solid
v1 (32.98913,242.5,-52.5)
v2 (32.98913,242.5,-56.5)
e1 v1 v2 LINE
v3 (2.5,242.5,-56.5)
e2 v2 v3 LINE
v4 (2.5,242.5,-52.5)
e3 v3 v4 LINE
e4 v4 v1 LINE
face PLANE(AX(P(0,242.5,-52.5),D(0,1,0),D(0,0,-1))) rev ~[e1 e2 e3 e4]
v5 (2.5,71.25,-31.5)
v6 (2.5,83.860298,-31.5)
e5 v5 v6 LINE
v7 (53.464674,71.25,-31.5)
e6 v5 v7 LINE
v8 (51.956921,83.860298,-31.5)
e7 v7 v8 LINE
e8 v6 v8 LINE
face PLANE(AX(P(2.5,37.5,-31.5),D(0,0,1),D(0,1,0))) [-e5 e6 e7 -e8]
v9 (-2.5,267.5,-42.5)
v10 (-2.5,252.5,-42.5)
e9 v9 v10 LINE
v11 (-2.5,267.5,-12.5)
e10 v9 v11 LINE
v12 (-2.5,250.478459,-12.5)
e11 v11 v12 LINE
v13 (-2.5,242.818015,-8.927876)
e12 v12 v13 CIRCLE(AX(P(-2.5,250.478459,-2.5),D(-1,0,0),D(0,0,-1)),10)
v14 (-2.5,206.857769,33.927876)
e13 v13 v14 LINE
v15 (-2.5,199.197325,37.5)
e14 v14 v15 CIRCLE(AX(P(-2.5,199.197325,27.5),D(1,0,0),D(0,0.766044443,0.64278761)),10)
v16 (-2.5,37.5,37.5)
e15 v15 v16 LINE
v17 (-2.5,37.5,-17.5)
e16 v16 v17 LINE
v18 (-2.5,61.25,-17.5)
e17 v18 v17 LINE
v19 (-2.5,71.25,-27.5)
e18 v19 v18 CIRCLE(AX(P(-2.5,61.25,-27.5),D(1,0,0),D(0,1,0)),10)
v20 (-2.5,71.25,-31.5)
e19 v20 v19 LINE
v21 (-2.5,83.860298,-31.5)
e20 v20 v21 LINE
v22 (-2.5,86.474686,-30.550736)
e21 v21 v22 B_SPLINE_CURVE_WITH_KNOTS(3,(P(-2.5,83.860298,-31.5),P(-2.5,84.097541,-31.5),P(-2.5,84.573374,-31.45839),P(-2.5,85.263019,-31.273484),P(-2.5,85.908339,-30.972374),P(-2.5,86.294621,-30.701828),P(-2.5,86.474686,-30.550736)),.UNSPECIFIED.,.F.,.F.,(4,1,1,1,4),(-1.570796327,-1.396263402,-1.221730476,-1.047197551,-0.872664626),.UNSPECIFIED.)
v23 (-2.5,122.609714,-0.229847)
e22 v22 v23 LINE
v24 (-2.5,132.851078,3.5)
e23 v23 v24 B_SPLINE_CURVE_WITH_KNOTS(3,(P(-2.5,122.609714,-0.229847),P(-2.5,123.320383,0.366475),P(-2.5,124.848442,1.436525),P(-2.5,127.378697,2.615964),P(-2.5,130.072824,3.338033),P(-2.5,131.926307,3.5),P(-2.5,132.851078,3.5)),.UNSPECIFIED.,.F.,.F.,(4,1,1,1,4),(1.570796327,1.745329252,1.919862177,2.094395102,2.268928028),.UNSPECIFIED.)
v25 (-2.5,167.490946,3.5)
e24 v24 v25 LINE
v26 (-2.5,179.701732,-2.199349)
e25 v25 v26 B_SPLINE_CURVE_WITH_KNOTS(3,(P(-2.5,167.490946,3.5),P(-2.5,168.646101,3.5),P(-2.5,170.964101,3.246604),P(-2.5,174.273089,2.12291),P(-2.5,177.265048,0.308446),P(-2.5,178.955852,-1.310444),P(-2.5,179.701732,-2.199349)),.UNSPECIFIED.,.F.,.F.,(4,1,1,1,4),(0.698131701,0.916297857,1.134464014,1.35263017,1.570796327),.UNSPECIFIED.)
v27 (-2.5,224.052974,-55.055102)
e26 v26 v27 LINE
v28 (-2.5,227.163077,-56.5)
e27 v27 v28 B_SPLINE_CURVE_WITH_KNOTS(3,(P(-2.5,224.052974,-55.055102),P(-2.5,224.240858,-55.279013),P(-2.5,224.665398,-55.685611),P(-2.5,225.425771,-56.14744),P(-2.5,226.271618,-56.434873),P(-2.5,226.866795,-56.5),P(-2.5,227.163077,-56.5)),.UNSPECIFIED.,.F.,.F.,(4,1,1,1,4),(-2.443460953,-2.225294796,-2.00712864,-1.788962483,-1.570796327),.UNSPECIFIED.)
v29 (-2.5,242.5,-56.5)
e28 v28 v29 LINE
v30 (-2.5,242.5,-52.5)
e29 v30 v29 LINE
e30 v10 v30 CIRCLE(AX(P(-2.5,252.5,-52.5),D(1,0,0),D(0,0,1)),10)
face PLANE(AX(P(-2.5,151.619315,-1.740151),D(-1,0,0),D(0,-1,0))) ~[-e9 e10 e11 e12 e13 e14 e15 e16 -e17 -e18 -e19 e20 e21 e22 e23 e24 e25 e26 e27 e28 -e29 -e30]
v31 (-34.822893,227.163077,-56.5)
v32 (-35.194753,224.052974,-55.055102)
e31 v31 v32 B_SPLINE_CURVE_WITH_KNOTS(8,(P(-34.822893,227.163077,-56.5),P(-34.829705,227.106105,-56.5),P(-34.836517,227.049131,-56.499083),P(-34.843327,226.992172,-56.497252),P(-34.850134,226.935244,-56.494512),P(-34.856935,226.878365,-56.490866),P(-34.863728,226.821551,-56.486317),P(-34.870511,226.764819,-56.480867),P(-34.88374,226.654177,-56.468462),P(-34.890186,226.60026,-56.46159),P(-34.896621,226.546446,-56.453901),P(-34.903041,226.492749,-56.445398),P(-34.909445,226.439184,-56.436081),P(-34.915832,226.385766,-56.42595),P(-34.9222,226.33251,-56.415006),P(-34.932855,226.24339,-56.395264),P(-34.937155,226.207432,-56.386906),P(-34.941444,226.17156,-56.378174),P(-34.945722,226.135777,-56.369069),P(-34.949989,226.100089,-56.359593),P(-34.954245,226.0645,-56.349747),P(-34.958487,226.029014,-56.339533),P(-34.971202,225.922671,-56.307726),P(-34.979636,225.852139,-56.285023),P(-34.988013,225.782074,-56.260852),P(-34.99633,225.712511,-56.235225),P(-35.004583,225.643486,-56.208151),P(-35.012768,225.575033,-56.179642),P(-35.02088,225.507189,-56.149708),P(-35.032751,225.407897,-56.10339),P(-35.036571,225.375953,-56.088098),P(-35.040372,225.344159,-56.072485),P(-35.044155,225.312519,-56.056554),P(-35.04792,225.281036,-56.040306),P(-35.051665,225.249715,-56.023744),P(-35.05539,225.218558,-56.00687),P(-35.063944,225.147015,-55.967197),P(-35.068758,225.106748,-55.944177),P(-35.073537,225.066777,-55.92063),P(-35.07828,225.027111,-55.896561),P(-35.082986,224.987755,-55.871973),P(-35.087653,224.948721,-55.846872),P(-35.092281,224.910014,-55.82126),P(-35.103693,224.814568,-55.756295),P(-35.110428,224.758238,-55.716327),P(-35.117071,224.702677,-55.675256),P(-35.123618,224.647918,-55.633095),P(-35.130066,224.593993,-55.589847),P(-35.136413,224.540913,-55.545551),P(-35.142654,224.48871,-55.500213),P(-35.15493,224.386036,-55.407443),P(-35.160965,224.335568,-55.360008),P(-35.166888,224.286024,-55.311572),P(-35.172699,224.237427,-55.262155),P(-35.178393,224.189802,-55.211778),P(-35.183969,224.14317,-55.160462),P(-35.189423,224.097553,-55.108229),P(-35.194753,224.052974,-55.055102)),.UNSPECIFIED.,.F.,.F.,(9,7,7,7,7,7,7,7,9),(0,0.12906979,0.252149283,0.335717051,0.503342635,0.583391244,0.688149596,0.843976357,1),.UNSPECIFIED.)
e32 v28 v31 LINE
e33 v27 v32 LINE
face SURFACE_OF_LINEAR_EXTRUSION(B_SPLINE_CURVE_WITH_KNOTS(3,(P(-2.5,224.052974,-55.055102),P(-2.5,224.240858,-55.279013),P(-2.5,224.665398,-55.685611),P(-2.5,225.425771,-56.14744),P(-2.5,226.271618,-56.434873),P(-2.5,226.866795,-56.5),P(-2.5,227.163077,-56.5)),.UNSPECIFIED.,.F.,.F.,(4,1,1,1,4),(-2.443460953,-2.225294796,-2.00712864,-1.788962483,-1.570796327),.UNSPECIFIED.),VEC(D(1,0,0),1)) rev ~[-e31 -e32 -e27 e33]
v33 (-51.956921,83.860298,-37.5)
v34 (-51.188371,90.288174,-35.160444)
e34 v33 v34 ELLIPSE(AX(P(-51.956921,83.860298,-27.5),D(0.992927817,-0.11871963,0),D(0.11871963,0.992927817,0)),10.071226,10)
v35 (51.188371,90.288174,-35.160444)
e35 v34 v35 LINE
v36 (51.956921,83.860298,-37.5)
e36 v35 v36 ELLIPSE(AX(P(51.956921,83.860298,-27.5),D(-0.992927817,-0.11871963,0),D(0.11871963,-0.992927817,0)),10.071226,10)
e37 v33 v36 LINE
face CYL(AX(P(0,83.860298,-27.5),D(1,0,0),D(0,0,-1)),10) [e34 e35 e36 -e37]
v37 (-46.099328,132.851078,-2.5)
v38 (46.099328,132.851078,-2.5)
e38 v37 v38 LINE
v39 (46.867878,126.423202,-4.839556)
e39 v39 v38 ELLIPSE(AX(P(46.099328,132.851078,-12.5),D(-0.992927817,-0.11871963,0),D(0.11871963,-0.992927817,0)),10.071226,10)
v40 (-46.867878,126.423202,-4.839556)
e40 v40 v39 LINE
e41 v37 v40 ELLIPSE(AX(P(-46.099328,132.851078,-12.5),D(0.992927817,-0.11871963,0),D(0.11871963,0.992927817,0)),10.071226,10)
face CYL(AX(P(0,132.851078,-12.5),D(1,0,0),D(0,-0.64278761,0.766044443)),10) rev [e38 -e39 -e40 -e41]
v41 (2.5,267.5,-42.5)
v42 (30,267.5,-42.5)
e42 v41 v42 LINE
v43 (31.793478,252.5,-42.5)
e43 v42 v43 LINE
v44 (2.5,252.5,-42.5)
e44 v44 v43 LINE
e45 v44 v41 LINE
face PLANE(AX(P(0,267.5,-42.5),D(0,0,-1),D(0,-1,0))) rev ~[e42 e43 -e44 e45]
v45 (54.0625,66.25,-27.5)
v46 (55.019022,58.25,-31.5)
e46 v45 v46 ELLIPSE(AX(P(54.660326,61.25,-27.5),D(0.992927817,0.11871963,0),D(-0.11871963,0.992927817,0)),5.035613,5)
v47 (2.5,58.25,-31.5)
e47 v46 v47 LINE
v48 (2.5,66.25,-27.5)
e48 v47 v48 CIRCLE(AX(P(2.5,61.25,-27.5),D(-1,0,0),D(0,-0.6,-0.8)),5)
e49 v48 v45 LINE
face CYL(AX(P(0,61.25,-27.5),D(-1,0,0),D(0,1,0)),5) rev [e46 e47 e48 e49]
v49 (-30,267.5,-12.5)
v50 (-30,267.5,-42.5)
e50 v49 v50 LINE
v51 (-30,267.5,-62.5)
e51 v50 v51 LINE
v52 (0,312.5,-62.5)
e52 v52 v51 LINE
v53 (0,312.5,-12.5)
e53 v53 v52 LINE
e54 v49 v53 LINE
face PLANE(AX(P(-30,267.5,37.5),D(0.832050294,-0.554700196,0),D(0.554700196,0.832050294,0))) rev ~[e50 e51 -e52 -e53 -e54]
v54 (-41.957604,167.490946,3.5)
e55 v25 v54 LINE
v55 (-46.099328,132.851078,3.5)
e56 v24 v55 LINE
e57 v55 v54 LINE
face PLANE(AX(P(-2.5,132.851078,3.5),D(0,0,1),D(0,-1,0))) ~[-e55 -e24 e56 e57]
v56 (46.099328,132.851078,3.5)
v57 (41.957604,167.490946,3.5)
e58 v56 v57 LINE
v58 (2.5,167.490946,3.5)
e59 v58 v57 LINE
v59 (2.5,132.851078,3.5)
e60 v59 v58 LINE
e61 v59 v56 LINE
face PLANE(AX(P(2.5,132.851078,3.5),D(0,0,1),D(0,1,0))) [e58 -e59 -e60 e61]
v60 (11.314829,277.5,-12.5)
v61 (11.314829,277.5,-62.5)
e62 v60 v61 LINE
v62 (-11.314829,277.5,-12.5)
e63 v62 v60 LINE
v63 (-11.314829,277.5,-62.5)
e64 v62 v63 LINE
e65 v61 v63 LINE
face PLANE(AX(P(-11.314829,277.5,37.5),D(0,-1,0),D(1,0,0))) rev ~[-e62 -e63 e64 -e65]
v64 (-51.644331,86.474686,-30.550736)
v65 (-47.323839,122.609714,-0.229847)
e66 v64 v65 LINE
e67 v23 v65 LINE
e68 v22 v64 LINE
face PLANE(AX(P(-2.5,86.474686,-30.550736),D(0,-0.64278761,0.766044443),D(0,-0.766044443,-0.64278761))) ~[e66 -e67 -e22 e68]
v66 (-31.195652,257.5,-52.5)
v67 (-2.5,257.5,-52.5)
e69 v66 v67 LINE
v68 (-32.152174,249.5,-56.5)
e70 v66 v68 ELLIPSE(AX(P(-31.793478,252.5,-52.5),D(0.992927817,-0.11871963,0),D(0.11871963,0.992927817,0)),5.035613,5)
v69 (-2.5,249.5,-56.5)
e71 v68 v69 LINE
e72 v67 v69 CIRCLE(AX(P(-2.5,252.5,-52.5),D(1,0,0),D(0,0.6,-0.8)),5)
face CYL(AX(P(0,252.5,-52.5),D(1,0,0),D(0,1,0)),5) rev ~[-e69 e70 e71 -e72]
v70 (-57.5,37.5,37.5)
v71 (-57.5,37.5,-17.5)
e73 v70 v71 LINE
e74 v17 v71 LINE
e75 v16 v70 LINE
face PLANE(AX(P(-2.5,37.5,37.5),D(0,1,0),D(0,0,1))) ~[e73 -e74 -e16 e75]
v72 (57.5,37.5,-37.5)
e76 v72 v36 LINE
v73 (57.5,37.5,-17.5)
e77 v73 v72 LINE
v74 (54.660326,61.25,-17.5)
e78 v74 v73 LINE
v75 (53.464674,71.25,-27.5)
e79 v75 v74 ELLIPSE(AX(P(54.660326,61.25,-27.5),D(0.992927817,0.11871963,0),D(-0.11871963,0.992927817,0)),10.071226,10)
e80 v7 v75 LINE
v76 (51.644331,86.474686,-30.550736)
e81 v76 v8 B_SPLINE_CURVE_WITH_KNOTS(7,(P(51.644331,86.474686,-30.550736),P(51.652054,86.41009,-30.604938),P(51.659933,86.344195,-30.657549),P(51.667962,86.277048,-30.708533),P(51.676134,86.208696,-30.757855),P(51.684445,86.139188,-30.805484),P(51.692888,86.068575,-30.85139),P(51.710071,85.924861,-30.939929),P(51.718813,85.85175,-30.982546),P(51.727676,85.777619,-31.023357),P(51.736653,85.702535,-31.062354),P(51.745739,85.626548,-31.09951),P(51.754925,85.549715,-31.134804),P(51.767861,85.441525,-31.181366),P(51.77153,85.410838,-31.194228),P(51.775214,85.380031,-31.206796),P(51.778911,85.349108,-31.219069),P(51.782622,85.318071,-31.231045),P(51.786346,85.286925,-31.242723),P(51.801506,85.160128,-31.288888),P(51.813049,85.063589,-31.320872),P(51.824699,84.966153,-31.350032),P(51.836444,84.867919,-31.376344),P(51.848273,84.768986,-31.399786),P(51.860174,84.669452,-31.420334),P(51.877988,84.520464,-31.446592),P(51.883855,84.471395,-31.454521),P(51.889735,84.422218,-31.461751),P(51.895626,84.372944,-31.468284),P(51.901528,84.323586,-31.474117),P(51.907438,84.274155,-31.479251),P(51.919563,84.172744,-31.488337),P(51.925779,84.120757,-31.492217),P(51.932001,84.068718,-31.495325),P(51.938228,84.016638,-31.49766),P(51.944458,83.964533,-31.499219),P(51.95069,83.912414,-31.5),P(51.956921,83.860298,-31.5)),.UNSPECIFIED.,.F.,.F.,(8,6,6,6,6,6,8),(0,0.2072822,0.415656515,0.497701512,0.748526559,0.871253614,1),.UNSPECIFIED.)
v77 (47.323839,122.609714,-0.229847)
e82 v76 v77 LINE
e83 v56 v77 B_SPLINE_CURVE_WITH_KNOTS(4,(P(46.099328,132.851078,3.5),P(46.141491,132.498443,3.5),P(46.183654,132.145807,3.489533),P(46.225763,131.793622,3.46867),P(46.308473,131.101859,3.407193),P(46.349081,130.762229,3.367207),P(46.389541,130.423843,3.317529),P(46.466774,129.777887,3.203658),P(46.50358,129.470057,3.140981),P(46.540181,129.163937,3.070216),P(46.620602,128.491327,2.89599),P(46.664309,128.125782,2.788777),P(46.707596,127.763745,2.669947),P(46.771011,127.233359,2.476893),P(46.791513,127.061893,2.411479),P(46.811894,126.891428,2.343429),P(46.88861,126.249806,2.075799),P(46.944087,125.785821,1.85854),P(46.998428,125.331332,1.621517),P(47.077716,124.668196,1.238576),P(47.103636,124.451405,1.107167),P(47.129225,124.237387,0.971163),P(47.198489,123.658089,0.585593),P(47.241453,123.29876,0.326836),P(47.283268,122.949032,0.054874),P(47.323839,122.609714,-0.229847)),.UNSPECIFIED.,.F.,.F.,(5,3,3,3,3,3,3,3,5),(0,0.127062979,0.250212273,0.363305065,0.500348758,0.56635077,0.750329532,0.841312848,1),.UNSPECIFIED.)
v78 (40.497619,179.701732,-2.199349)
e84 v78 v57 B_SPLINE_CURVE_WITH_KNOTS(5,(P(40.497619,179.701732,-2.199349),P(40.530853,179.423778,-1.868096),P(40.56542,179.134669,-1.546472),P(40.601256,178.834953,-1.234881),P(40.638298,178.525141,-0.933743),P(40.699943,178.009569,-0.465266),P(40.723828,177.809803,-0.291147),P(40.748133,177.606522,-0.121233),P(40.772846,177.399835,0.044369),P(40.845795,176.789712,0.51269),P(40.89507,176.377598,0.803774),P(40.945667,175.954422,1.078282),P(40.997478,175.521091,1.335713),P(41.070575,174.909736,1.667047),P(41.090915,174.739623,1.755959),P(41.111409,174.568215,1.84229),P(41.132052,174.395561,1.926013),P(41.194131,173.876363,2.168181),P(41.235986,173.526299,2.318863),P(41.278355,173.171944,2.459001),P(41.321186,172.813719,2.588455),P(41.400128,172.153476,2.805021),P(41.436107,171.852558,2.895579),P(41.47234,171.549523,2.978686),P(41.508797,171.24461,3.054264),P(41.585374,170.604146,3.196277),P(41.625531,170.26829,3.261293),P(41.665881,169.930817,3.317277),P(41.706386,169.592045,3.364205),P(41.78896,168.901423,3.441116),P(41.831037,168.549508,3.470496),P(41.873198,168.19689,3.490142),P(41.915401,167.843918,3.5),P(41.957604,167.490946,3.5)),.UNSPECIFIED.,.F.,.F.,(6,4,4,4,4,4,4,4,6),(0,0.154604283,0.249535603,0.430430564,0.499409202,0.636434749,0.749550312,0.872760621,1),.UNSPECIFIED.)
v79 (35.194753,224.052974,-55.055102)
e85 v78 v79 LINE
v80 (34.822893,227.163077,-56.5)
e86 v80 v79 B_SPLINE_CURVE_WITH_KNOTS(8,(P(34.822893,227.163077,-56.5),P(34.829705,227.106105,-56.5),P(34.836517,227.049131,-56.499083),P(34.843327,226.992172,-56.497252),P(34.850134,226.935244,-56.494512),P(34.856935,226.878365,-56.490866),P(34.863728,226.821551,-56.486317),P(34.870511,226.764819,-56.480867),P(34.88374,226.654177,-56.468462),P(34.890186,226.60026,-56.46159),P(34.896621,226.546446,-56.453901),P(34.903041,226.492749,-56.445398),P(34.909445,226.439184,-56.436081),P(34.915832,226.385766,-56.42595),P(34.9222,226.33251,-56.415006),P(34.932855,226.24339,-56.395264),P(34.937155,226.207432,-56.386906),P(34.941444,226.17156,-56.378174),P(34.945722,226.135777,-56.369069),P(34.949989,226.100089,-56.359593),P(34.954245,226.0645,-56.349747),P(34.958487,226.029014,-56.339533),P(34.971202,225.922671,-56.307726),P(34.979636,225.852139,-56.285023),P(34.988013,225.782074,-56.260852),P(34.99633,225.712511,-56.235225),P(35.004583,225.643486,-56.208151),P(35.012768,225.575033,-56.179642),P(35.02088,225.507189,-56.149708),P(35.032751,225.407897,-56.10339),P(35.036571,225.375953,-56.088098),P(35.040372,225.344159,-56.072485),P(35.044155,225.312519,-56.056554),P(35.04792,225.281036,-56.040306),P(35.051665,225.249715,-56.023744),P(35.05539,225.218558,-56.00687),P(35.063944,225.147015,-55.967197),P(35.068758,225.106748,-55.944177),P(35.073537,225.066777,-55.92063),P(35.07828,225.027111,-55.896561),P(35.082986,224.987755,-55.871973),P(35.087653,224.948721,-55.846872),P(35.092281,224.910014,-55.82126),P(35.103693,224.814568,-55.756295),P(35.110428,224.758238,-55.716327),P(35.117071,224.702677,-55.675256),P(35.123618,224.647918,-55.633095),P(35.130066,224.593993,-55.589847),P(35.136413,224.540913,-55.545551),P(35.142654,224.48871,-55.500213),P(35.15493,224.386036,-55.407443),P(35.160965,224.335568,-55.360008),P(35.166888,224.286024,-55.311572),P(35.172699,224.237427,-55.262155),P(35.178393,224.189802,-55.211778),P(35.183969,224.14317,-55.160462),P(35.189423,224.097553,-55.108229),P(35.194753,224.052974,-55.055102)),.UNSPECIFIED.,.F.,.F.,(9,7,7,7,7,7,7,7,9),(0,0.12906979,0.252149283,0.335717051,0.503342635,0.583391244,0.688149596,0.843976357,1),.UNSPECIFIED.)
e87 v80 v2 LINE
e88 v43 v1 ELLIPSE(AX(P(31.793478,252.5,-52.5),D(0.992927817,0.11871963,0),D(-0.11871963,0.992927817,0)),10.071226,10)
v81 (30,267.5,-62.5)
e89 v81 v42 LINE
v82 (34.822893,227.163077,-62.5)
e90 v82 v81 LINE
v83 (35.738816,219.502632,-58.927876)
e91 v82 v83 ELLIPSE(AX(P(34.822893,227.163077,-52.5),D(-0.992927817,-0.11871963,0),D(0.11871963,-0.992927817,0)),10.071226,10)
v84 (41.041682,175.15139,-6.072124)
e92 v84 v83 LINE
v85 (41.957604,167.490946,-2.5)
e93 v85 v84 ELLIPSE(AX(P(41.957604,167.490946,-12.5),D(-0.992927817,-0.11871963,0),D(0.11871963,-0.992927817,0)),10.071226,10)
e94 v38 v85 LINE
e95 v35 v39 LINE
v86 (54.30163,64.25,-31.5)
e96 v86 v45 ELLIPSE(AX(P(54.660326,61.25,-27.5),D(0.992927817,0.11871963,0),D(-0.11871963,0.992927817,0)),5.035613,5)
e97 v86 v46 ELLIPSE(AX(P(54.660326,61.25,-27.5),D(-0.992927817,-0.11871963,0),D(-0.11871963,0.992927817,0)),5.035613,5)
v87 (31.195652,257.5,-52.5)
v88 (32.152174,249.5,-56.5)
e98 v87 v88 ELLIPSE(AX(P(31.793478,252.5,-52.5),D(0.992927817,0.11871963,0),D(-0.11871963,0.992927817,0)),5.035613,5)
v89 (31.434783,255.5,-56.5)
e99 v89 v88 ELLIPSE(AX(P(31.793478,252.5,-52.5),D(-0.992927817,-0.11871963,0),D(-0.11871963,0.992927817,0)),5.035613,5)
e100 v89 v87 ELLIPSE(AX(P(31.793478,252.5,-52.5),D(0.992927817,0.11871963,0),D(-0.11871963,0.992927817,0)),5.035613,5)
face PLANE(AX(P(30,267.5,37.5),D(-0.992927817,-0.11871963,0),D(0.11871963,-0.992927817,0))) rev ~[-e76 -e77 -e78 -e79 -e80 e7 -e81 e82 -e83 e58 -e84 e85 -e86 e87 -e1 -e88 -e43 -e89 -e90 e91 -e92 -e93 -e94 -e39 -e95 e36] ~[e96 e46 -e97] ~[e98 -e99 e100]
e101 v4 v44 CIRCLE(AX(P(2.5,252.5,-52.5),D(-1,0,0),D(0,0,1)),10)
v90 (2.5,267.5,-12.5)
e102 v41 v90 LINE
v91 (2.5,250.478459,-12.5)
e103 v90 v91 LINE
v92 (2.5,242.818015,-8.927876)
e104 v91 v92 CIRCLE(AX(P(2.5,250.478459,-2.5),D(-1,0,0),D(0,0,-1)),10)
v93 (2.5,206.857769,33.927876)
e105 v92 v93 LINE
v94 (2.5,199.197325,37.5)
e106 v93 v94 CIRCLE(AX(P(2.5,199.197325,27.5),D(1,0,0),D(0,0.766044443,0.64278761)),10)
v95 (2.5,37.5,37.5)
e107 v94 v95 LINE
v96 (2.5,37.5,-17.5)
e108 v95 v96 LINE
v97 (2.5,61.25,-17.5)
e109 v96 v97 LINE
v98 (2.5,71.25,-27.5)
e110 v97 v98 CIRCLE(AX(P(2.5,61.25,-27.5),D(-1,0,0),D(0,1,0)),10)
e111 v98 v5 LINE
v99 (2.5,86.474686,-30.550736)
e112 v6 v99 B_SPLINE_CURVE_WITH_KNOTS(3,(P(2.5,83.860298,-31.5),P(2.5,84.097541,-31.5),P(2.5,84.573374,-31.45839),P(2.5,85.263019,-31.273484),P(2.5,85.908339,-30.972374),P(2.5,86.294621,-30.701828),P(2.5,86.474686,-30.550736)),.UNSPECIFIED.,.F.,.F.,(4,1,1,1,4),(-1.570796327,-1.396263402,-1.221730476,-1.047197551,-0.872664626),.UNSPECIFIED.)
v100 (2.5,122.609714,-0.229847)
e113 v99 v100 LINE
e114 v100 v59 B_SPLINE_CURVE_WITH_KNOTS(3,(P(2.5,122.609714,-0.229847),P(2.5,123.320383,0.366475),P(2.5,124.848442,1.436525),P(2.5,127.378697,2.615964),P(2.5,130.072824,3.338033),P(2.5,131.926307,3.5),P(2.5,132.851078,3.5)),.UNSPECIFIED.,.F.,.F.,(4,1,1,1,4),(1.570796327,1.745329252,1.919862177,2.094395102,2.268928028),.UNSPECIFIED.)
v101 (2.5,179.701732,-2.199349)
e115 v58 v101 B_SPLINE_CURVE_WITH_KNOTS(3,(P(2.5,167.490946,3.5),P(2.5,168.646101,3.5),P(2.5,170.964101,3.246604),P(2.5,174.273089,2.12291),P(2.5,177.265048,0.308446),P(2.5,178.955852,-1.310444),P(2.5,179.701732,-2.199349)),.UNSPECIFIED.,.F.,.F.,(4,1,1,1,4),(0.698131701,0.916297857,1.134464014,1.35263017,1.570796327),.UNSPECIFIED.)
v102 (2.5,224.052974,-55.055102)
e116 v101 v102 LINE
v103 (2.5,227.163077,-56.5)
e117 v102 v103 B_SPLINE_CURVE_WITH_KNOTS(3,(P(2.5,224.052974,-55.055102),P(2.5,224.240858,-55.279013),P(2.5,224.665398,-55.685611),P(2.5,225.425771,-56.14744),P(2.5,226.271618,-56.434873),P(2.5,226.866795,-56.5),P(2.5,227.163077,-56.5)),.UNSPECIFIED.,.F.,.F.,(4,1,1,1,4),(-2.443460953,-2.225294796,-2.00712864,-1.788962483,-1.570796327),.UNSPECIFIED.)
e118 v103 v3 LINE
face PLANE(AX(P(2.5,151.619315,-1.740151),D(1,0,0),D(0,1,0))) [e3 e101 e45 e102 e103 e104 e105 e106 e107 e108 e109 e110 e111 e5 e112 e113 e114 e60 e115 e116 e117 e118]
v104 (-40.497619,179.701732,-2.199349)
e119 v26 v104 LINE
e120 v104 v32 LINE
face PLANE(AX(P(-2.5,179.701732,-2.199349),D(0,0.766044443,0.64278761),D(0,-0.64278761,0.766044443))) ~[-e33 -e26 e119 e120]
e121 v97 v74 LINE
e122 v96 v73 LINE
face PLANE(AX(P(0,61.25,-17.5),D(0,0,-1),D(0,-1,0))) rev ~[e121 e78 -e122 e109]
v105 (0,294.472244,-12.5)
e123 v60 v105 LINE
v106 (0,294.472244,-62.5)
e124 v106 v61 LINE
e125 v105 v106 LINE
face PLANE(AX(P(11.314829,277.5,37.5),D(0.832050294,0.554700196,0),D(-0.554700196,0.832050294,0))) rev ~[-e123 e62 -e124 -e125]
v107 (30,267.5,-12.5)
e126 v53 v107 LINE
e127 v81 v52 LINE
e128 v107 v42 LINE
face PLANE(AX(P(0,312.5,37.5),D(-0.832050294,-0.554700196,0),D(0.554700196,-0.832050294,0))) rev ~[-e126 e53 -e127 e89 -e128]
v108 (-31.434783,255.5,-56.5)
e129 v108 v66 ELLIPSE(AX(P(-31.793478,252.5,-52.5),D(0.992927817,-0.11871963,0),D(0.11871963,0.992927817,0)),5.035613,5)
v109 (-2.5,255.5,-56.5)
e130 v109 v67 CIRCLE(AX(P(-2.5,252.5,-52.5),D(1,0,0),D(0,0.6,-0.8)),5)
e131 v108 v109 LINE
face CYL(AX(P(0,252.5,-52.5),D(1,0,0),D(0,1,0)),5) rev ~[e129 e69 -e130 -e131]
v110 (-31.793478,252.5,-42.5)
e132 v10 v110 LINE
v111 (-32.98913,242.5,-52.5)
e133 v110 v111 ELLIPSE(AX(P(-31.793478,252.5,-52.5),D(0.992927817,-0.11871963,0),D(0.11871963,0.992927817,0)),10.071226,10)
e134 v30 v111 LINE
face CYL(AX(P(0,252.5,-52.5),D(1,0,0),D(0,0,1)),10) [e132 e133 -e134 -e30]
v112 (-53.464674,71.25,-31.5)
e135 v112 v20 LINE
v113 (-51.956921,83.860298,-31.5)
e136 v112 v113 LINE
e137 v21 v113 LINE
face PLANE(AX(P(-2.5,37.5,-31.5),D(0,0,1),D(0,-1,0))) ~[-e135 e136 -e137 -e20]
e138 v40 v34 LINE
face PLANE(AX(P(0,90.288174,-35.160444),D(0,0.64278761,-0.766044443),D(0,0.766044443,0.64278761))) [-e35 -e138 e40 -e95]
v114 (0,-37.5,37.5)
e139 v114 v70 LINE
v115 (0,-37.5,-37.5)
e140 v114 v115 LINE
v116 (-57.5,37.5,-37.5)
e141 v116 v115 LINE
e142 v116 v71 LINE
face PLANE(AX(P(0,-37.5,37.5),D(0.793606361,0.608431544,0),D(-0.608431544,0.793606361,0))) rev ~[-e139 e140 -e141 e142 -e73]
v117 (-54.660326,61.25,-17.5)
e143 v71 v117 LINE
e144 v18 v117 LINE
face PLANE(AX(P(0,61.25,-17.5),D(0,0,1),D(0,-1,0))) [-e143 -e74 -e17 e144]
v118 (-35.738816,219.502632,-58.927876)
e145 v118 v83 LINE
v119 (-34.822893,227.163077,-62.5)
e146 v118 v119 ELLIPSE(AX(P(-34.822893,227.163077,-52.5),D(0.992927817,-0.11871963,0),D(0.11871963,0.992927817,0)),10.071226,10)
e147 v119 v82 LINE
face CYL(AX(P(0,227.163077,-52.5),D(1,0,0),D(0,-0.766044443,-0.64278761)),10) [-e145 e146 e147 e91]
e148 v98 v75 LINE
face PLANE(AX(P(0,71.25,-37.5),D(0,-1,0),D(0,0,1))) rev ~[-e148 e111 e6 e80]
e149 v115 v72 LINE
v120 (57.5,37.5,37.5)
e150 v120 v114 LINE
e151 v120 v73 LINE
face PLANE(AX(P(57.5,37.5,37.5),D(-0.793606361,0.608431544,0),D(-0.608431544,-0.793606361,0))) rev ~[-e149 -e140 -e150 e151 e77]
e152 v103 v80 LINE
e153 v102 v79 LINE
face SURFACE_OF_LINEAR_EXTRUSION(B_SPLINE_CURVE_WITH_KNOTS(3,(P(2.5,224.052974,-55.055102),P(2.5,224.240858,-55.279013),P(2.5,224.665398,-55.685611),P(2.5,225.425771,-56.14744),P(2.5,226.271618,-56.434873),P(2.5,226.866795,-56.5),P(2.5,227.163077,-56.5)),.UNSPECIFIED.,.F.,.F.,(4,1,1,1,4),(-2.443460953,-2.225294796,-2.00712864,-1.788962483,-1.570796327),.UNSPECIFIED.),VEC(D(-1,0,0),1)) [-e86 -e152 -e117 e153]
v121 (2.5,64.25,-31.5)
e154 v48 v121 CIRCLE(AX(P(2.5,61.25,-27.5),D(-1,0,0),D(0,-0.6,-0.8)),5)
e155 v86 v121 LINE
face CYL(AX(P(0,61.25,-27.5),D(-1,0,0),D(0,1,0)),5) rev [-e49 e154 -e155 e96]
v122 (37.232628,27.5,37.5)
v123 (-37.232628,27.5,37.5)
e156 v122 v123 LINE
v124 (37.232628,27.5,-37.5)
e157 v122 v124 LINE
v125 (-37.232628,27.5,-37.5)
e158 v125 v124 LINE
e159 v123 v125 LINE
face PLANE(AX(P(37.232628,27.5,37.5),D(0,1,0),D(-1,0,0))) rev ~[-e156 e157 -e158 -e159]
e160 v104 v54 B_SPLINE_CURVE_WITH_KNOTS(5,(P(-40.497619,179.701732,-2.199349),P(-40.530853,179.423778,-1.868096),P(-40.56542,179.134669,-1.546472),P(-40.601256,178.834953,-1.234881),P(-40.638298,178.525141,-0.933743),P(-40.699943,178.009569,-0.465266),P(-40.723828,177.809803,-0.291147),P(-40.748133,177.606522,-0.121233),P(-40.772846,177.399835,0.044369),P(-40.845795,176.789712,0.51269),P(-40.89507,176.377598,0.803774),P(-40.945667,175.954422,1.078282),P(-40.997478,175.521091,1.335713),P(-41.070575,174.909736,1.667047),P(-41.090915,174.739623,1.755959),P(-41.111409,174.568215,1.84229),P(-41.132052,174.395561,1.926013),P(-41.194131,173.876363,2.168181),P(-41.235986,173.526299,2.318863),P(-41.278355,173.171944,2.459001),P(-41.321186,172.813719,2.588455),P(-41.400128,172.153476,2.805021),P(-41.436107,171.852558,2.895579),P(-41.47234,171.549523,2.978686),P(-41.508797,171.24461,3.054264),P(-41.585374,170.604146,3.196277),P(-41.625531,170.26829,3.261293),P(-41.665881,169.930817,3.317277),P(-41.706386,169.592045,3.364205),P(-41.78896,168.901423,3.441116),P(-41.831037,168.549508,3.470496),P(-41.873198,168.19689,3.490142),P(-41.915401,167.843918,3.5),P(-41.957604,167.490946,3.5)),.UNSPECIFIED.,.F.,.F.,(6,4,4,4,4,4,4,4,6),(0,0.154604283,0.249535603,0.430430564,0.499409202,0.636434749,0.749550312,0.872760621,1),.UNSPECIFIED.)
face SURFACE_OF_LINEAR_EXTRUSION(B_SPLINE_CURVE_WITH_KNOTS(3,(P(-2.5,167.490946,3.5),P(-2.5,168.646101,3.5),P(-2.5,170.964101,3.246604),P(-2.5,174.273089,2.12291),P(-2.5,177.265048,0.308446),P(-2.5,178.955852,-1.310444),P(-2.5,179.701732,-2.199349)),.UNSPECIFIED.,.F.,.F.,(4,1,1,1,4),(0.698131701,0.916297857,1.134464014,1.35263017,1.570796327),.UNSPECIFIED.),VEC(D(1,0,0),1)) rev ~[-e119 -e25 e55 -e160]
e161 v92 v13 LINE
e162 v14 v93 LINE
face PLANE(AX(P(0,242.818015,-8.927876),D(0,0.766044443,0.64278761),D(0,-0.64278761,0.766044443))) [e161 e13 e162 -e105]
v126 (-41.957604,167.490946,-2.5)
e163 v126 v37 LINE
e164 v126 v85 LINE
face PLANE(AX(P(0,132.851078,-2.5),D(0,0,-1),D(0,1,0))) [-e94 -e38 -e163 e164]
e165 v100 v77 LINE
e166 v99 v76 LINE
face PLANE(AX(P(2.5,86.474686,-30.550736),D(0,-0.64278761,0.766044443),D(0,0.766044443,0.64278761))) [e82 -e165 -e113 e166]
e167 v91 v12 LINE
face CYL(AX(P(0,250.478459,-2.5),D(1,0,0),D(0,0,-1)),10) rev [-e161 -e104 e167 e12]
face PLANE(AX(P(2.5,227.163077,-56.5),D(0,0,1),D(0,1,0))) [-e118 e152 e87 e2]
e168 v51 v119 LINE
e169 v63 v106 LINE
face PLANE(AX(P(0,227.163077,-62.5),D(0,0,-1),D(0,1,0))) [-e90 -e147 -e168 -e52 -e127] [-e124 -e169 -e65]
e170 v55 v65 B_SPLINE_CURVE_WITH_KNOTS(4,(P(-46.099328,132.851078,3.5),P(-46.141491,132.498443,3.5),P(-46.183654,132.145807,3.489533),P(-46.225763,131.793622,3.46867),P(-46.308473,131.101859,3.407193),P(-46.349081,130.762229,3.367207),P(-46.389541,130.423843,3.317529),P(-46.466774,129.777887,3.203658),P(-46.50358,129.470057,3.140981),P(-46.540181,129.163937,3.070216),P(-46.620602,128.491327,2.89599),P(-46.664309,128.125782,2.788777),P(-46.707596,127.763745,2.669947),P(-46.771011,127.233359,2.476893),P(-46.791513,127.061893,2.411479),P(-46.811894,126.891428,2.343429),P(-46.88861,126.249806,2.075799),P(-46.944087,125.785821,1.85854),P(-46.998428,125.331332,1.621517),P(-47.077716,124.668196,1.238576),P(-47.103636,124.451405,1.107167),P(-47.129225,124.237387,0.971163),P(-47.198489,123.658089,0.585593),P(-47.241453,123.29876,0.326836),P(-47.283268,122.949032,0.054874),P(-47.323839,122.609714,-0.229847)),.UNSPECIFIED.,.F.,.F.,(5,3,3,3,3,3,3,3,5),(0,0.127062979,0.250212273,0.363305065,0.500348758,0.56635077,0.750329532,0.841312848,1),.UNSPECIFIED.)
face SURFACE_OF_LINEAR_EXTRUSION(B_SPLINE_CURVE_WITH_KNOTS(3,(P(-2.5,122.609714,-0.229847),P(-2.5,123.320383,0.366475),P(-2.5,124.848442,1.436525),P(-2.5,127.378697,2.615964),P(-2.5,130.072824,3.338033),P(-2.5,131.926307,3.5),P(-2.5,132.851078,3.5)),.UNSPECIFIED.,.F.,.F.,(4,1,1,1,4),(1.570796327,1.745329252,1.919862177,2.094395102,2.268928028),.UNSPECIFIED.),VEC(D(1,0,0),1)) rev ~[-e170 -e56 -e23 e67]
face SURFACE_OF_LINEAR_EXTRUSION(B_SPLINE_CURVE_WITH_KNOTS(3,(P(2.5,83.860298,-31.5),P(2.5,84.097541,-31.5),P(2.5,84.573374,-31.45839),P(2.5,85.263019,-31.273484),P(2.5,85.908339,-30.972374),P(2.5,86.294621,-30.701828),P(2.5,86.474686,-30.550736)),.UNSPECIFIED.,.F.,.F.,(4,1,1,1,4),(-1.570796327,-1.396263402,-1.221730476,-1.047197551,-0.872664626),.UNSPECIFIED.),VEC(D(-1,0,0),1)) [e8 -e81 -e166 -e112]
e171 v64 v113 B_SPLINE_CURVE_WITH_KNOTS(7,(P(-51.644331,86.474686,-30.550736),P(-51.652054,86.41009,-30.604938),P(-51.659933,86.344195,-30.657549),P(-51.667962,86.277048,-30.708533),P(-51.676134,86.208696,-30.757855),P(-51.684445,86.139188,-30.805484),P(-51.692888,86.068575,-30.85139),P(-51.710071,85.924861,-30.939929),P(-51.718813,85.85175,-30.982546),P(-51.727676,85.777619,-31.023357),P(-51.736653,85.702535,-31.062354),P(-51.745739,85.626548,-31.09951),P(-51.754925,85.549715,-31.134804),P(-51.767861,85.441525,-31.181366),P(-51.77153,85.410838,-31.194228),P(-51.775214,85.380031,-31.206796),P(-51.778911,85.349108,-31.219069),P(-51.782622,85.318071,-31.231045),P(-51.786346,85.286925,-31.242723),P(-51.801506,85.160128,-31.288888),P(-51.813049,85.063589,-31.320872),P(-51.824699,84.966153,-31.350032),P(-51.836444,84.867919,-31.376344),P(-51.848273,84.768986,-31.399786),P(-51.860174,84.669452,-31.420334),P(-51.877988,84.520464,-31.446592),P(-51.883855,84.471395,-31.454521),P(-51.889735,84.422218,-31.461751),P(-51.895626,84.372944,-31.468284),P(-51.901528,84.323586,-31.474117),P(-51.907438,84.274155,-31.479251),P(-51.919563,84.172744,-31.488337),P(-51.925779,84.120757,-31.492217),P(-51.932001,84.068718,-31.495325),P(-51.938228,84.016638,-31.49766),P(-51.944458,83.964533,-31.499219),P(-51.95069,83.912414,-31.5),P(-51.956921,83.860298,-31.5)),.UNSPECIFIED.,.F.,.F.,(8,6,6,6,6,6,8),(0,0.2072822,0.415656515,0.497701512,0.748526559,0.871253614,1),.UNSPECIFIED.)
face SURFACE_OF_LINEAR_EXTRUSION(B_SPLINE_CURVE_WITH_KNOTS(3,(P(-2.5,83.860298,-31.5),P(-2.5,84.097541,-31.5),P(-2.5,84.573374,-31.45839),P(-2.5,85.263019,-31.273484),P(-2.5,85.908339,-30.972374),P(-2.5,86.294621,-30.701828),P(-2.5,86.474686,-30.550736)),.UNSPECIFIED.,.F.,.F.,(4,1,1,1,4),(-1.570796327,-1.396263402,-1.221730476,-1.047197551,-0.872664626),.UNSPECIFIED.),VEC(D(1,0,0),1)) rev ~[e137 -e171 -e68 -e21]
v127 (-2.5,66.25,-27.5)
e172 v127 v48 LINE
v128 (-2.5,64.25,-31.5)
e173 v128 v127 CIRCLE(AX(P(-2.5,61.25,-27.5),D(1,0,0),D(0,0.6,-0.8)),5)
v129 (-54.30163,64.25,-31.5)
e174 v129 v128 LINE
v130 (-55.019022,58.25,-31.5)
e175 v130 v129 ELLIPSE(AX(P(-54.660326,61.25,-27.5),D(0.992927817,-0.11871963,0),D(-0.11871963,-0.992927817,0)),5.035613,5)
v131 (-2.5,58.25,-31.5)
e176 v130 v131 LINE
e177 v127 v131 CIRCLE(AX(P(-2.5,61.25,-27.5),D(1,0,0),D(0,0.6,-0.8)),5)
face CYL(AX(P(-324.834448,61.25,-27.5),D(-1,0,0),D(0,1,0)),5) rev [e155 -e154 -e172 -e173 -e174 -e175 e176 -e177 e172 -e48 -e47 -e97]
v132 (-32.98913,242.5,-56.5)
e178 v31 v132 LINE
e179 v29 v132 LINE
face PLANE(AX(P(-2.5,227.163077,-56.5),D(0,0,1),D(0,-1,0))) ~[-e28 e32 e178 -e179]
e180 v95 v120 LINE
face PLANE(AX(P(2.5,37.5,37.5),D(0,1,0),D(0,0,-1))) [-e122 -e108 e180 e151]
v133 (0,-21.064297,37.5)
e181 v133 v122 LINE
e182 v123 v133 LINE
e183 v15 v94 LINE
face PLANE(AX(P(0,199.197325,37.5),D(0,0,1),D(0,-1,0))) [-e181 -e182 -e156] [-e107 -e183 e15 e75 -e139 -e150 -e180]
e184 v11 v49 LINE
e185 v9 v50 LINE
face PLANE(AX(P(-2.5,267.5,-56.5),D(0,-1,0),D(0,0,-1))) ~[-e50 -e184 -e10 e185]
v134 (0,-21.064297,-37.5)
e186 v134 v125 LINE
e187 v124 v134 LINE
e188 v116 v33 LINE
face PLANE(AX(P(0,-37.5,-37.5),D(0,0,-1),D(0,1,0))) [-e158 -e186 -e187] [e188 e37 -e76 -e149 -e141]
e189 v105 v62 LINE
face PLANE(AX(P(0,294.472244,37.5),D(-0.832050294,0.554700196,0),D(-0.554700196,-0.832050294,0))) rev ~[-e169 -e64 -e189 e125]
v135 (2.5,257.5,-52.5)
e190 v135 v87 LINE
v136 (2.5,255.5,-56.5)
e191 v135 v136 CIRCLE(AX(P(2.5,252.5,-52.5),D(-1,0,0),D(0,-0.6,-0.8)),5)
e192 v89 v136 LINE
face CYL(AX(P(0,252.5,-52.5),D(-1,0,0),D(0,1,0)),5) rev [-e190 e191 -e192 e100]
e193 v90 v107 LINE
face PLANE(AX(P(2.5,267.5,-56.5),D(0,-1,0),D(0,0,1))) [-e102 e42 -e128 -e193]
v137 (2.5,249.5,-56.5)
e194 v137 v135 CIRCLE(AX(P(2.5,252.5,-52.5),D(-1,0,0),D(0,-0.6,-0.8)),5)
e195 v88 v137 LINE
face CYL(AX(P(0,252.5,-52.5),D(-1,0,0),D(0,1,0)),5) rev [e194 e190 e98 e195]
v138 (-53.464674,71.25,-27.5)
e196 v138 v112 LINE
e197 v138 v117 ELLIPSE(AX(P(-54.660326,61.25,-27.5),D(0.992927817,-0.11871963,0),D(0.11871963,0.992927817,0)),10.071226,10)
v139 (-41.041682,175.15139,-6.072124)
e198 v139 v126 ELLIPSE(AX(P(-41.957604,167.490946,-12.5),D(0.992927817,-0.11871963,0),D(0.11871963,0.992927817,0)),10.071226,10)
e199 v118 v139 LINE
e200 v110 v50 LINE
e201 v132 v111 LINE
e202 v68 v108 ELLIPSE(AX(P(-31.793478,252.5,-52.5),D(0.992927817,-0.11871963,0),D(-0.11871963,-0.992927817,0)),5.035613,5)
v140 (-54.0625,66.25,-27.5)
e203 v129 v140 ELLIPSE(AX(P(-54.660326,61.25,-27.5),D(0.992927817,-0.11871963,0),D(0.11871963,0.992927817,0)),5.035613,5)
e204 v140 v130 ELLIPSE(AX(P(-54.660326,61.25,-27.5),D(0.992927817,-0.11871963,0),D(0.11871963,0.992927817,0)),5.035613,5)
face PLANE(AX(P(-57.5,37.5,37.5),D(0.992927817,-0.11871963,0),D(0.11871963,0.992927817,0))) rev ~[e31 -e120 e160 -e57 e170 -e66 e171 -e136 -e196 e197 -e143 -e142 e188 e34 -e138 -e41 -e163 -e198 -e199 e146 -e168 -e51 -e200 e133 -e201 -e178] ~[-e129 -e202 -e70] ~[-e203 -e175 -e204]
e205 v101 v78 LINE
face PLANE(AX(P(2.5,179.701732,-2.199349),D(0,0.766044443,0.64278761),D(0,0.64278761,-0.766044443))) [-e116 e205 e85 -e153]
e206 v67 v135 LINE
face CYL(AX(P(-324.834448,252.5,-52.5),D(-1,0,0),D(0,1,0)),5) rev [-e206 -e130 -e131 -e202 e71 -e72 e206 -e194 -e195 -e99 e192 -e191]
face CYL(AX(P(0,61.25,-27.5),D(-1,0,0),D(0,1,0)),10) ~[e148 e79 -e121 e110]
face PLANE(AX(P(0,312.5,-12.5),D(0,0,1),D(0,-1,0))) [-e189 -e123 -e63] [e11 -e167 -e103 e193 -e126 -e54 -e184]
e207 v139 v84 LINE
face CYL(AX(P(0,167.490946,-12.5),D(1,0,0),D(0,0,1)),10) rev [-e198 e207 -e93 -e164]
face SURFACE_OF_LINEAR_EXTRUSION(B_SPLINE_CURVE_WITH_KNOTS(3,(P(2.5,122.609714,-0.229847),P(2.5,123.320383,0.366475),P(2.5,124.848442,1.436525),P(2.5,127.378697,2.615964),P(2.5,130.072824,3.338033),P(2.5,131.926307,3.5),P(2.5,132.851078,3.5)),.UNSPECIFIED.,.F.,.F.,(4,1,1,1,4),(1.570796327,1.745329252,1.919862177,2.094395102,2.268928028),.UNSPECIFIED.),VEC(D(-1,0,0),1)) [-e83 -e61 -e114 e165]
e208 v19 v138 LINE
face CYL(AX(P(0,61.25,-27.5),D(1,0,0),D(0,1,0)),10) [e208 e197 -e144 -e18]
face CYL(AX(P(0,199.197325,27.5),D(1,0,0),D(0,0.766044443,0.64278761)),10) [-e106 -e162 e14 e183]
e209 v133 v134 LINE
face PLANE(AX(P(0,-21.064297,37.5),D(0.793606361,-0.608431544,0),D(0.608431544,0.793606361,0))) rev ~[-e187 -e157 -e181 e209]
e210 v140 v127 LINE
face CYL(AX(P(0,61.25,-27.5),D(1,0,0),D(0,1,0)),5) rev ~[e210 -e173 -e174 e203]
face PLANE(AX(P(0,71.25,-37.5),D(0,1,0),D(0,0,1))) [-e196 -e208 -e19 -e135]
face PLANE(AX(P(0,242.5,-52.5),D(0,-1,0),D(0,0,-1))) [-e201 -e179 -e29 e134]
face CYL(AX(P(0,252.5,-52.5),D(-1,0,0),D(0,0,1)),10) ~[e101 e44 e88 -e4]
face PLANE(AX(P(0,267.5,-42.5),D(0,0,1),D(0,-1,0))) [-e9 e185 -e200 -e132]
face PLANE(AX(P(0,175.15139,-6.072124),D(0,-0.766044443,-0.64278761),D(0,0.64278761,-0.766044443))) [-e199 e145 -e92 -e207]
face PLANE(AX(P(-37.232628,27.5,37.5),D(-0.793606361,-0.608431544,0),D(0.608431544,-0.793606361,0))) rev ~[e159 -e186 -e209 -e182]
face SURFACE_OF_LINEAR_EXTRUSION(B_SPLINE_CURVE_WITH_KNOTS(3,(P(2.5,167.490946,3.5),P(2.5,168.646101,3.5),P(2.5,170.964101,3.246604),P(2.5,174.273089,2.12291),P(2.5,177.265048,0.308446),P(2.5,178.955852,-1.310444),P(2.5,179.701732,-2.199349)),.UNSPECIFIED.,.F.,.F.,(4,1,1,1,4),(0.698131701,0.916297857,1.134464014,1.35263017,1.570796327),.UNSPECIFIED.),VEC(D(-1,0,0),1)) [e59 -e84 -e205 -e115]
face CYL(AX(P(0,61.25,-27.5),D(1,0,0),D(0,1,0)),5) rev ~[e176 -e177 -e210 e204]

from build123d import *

# Parameters (mm, degrees)
BOSS_EXTRUDE1_DEPTH             = 57.5
CUT_EXTRUDE1_DEPTH              = 334.110342079
CUT_EXTRUDE4_START              = 2.5
CUT_EXTRUDE4_DEPTH              = 322.334448445
BOSS_EXTRUDE2_REACH             = 325.834
SKETCH9_R                       = 5
BOSS_EXTRUDE2_DIRECTION_2_REACH = 325.834
CUT_EXTRUDE5_DEPTH              = 324.834448483
CUT_EXTRUDE5_DEPTH_BACK         = 324.834448483
SKETCH9_3_R                     = 5


with BuildPart() as part:
    # Sketch3 → Boss-Extrude1 (new, symmetric)
    with BuildSketch(Plane.YZ):
        with BuildLine():
            Line((242.818015058, -8.927876097), (206.857769199, 33.927876097))
            ThreePointArc((206.857769199, 33.927876097), (203.423507385, 36.56307787), (199.197324767, 37.5))
            Line((199.197324767, 37.5), (-37.5, 37.5))
            Line((-37.5, 37.5), (-37.5, -37.5))
            Line((-37.5, -37.5), (83.860297657, -37.5))
            ThreePointArc((83.860297657, -37.5), (87.280499091, -36.896926208), (90.288173754, -35.160444431))
            Line((90.288173754, -35.160444431), (126.423201987, -4.839555569))
            ThreePointArc((126.423201987, -4.839555569), (129.43087665, -3.103073792), (132.851078083, -2.5))
            Line((132.851078083, -2.5), (167.490945548, -2.5))
            ThreePointArc((167.490945548, -2.5), (171.717128165, -3.43692213), (175.151389979, -6.072123903))
            Line((175.151389979, -6.072123903), (219.50263215, -58.927876097))
            ThreePointArc((219.50263215, -58.927876097), (222.936893964, -61.56307787), (227.163076582, -62.5))
            Line((227.163076582, -62.5), (312.5, -62.5))
            Line((312.5, -62.5), (312.5, -12.5))
            Line((312.5, -12.5), (250.478459489, -12.5))
            ThreePointArc((250.478459489, -12.5), (246.252276872, -11.56307787), (242.818015058, -8.927876097))
        make_face()
    extrude(amount=BOSS_EXTRUDE1_DEPTH, both=True)

    # Sketch4 → Cut-Extrude1 (cut, through all)
    with BuildSketch(Plane.XY.offset(37.5)):
        Polygon((57.5, 312.5), (0, 312.5), (30, 267.5), (57.5, 37.5), align=None)
        Polygon((-30, 267.5), (0, 312.5), (-57.5, 312.5), (-57.5, 37.5), align=None)
        Polygon((11.314829082, 277.5), (0, 294.472243623), (-11.314829082, 277.5), align=None)
        Polygon((0, -37.5), (-57.5, 37.5), (-57.5, -37.5), align=None)
        Polygon((57.5, -37.5), (57.5, 37.5), (0, -37.5), align=None)
        Polygon((-37.232627886, 27.5), (0, -21.064297242), (37.232627886, 27.5), align=None)
    extrude(amount=-CUT_EXTRUDE1_DEPTH, mode=Mode.SUBTRACT)

    # Sketch7 → Cut-Extrude4 (cut, through all)
    with BuildSketch(Plane.YZ.offset(CUT_EXTRUDE4_START)):
        with BuildLine():
            Line((37.5, 37.5), (37.5, -31.5))
            Line((37.5, -31.5), (83.860297657, -31.5))
            add(Edge.make_bspline(
                [(83.860297657, -31.5), (84.097540548, -31.5), (84.57337446, -31.458390238), (85.263019182, -31.273484118), (85.908338575, -30.972374338), (86.294621244, -30.70182834), (86.474686107, -30.55073598)],
                knots=[-1.570796327, -1.570796327, -1.570796327, -1.570796327, -1.396263402, -1.221730476, -1.047197551, -0.872664626, -0.872664626, -0.872664626, -0.872664626], degree=3))
            Line((86.474686107, -30.55073598), (122.609714339, -0.229847118))
            add(Edge.make_bspline(
                [(122.609714339, -0.229847118), (123.320382845, 0.366474563), (124.848442038, 1.436524541), (127.37869722, 2.615963904), (130.072824203, 3.338033288), (131.926306613, 3.5), (132.851078083, 3.5)],
                knots=[1.570796327, 1.570796327, 1.570796327, 1.570796327, 1.745329252, 1.919862177, 2.094395102, 2.268928028, 2.268928028, 2.268928028, 2.268928028], degree=3))
            Line((132.851078083, 3.5), (167.490945548, 3.5))
            add(Edge.make_bspline(
                [(167.490945548, 3.5), (168.646100732, 3.5), (170.964100646, 3.246604285), (174.273089477, 2.122910497), (177.265048317, 0.308445679), (178.955852245, -1.310444394), (179.701732038, -2.199349317)],
                knots=[0.698131701, 0.698131701, 0.698131701, 0.698131701, 0.916297857, 1.134464014, 1.35263017, 1.570796327, 1.570796327, 1.570796327, 1.570796327], degree=3))
            Line((179.701732038, -2.199349317), (224.052974209, -55.055101511))
            add(Edge.make_bspline(
                [(224.052974209, -55.055101511), (224.24085811, -55.279012825), (224.665398004, -55.685610911), (225.425771497, -56.147439629), (226.271617671, -56.434873066), (226.866794678, -56.5), (227.163076582, -56.5)],
                knots=[-2.443460953, -2.443460953, -2.443460953, -2.443460953, -2.225294796, -2.00712864, -1.788962483, -1.570796327, -1.570796327, -1.570796327, -1.570796327], degree=3))
            Line((227.163076582, -56.5), (267.5, -56.5))
            Line((267.5, -56.5), (267.5, -12.5))
            Line((267.5, -12.5), (250.478459489, -12.5))
            ThreePointArc((250.478459489, -12.5), (246.252276872, -11.56307787), (242.818015058, -8.927876097))
            Line((242.818015058, -8.927876097), (206.857769199, 33.927876097))
            ThreePointArc((206.857769199, 33.927876097), (203.423507385, 36.56307787), (199.197324767, 37.5))
            Line((199.197324767, 37.5), (37.5, 37.5))
        make_face()
    cut_extrude4 = extrude(amount=CUT_EXTRUDE4_DEPTH, mode=Mode.SUBTRACT)

    # Mirror1: Cut-Extrude4 across plane
    add(cut_extrude4.mirror(Plane(origin=(0, 0, 0), x_dir=(0, 0, 1), z_dir=(1, 0, 0))), mode=Mode.SUBTRACT)

    # Boss-Extrude2: up to this plane
    boss_extrude2_end = Plane(origin=(61.110075713, 7.306639487, -62.5), z_dir=(0.9929278168066742, 0.11871963027036327, 0))
    # Sketch9 → Boss-Extrude2 (add, up to the surface)
    with BuildSketch(Plane.YZ, mode=Mode.PRIVATE) as boss_extrude2_sk1:
        with BuildLine():
            Line((61.25, -17.5), (37.5, -17.5))
            Line((37.5, -17.5), (37.5, -37.5))
            Line((37.5, -37.5), (71.25, -37.5))
            Line((71.25, -37.5), (71.25, -27.5))
            ThreePointArc((71.25, -27.5), (68.321067812, -20.428932188), (61.25, -17.5))
        make_face()
        with Locations((61.25, -27.5)):
            Circle(SKETCH9_R, mode=Mode.SUBTRACT)
    boss_extrude2_tool1 = split(extrude(boss_extrude2_sk1.sketch, amount=BOSS_EXTRUDE2_REACH, mode=Mode.PRIVATE), bisect_by=boss_extrude2_end, keep=Keep.BOTH, mode=Mode.PRIVATE)
    add(boss_extrude2_tool1.solids().sort_by_distance((0, 52.889493, -27.789855))[0])
    # Sketch9 → Boss-Extrude2 (add, up to the surface)
    with BuildSketch(Plane.YZ, mode=Mode.PRIVATE) as boss_extrude2_sk2:
        with BuildLine():
            Line((267.5, -62.5), (267.5, -42.5))
            Line((267.5, -42.5), (252.5, -42.5))
            ThreePointArc((252.5, -42.5), (245.428932188, -45.428932188), (242.5, -52.5))
            Line((242.5, -52.5), (242.5, -62.5))
            Line((242.5, -62.5), (267.5, -62.5))
        make_face()
        with Locations((252.5, -52.5)):
            Circle(SKETCH9_R, mode=Mode.SUBTRACT)
    boss_extrude2_tool2 = split(extrude(boss_extrude2_sk2.sketch, amount=BOSS_EXTRUDE2_REACH, mode=Mode.PRIVATE), bisect_by=boss_extrude2_end, keep=Keep.BOTH, mode=Mode.PRIVATE)
    add(boss_extrude2_tool2.solids().sort_by_distance((0, 267.179844, -52.5))[0])

    # Boss-Extrude2 direction 2: up to this plane
    boss_extrude2_direction_2_end = Plane(origin=(-61.110075713, 7.306639487, -62.5), z_dir=(0.9929278168066742, -0.11871963027036327, 0))
    # Sketch9 → Boss-Extrude2 direction 2 (add, up to the surface)
    with BuildSketch(Plane.YZ, mode=Mode.PRIVATE) as boss_extrude2_direction_2_sk1:
        with BuildLine():
            Line((61.25, -17.5), (37.5, -17.5))
            Line((37.5, -17.5), (37.5, -37.5))
            Line((37.5, -37.5), (71.25, -37.5))
            Line((71.25, -37.5), (71.25, -27.5))
            ThreePointArc((71.25, -27.5), (68.321067812, -20.428932188), (61.25, -17.5))
        make_face()
        with Locations((61.25, -27.5)):
            Circle(SKETCH9_R, mode=Mode.SUBTRACT)
    boss_extrude2_direction_2_tool1 = split(extrude(boss_extrude2_direction_2_sk1.sketch, amount=-BOSS_EXTRUDE2_DIRECTION_2_REACH, mode=Mode.PRIVATE), bisect_by=boss_extrude2_direction_2_end, keep=Keep.BOTH, mode=Mode.PRIVATE)
    add(boss_extrude2_direction_2_tool1.solids().sort_by_distance((0, 52.889493, -27.789855))[0])
    # Sketch9 → Boss-Extrude2 direction 2 (add, up to the surface)
    with BuildSketch(Plane.YZ, mode=Mode.PRIVATE) as boss_extrude2_direction_2_sk2:
        with BuildLine():
            Line((267.5, -62.5), (267.5, -42.5))
            Line((267.5, -42.5), (252.5, -42.5))
            ThreePointArc((252.5, -42.5), (245.428932188, -45.428932188), (242.5, -52.5))
            Line((242.5, -52.5), (242.5, -62.5))
            Line((242.5, -62.5), (267.5, -62.5))
        make_face()
        with Locations((252.5, -52.5)):
            Circle(SKETCH9_R, mode=Mode.SUBTRACT)
    boss_extrude2_direction_2_tool2 = split(extrude(boss_extrude2_direction_2_sk2.sketch, amount=-BOSS_EXTRUDE2_DIRECTION_2_REACH, mode=Mode.PRIVATE), bisect_by=boss_extrude2_direction_2_end, keep=Keep.BOTH, mode=Mode.PRIVATE)
    add(boss_extrude2_direction_2_tool2.solids().sort_by_distance((0, 267.179844, -52.5))[0])

    # Sketch9<3> → Cut-Extrude5 (cut, two sides: drawn at the far end of the back side and taken through both)
    with BuildSketch(Plane.YZ.offset(-CUT_EXTRUDE5_DEPTH_BACK)):
        with Locations((61.25, -27.5)):
            Circle(SKETCH9_3_R)
        with Locations((252.5, -52.5)):
            Circle(SKETCH9_3_R)
    extrude(amount=CUT_EXTRUDE5_DEPTH + CUT_EXTRUDE5_DEPTH_BACK, mode=Mode.SUBTRACT)


solid = part.part
